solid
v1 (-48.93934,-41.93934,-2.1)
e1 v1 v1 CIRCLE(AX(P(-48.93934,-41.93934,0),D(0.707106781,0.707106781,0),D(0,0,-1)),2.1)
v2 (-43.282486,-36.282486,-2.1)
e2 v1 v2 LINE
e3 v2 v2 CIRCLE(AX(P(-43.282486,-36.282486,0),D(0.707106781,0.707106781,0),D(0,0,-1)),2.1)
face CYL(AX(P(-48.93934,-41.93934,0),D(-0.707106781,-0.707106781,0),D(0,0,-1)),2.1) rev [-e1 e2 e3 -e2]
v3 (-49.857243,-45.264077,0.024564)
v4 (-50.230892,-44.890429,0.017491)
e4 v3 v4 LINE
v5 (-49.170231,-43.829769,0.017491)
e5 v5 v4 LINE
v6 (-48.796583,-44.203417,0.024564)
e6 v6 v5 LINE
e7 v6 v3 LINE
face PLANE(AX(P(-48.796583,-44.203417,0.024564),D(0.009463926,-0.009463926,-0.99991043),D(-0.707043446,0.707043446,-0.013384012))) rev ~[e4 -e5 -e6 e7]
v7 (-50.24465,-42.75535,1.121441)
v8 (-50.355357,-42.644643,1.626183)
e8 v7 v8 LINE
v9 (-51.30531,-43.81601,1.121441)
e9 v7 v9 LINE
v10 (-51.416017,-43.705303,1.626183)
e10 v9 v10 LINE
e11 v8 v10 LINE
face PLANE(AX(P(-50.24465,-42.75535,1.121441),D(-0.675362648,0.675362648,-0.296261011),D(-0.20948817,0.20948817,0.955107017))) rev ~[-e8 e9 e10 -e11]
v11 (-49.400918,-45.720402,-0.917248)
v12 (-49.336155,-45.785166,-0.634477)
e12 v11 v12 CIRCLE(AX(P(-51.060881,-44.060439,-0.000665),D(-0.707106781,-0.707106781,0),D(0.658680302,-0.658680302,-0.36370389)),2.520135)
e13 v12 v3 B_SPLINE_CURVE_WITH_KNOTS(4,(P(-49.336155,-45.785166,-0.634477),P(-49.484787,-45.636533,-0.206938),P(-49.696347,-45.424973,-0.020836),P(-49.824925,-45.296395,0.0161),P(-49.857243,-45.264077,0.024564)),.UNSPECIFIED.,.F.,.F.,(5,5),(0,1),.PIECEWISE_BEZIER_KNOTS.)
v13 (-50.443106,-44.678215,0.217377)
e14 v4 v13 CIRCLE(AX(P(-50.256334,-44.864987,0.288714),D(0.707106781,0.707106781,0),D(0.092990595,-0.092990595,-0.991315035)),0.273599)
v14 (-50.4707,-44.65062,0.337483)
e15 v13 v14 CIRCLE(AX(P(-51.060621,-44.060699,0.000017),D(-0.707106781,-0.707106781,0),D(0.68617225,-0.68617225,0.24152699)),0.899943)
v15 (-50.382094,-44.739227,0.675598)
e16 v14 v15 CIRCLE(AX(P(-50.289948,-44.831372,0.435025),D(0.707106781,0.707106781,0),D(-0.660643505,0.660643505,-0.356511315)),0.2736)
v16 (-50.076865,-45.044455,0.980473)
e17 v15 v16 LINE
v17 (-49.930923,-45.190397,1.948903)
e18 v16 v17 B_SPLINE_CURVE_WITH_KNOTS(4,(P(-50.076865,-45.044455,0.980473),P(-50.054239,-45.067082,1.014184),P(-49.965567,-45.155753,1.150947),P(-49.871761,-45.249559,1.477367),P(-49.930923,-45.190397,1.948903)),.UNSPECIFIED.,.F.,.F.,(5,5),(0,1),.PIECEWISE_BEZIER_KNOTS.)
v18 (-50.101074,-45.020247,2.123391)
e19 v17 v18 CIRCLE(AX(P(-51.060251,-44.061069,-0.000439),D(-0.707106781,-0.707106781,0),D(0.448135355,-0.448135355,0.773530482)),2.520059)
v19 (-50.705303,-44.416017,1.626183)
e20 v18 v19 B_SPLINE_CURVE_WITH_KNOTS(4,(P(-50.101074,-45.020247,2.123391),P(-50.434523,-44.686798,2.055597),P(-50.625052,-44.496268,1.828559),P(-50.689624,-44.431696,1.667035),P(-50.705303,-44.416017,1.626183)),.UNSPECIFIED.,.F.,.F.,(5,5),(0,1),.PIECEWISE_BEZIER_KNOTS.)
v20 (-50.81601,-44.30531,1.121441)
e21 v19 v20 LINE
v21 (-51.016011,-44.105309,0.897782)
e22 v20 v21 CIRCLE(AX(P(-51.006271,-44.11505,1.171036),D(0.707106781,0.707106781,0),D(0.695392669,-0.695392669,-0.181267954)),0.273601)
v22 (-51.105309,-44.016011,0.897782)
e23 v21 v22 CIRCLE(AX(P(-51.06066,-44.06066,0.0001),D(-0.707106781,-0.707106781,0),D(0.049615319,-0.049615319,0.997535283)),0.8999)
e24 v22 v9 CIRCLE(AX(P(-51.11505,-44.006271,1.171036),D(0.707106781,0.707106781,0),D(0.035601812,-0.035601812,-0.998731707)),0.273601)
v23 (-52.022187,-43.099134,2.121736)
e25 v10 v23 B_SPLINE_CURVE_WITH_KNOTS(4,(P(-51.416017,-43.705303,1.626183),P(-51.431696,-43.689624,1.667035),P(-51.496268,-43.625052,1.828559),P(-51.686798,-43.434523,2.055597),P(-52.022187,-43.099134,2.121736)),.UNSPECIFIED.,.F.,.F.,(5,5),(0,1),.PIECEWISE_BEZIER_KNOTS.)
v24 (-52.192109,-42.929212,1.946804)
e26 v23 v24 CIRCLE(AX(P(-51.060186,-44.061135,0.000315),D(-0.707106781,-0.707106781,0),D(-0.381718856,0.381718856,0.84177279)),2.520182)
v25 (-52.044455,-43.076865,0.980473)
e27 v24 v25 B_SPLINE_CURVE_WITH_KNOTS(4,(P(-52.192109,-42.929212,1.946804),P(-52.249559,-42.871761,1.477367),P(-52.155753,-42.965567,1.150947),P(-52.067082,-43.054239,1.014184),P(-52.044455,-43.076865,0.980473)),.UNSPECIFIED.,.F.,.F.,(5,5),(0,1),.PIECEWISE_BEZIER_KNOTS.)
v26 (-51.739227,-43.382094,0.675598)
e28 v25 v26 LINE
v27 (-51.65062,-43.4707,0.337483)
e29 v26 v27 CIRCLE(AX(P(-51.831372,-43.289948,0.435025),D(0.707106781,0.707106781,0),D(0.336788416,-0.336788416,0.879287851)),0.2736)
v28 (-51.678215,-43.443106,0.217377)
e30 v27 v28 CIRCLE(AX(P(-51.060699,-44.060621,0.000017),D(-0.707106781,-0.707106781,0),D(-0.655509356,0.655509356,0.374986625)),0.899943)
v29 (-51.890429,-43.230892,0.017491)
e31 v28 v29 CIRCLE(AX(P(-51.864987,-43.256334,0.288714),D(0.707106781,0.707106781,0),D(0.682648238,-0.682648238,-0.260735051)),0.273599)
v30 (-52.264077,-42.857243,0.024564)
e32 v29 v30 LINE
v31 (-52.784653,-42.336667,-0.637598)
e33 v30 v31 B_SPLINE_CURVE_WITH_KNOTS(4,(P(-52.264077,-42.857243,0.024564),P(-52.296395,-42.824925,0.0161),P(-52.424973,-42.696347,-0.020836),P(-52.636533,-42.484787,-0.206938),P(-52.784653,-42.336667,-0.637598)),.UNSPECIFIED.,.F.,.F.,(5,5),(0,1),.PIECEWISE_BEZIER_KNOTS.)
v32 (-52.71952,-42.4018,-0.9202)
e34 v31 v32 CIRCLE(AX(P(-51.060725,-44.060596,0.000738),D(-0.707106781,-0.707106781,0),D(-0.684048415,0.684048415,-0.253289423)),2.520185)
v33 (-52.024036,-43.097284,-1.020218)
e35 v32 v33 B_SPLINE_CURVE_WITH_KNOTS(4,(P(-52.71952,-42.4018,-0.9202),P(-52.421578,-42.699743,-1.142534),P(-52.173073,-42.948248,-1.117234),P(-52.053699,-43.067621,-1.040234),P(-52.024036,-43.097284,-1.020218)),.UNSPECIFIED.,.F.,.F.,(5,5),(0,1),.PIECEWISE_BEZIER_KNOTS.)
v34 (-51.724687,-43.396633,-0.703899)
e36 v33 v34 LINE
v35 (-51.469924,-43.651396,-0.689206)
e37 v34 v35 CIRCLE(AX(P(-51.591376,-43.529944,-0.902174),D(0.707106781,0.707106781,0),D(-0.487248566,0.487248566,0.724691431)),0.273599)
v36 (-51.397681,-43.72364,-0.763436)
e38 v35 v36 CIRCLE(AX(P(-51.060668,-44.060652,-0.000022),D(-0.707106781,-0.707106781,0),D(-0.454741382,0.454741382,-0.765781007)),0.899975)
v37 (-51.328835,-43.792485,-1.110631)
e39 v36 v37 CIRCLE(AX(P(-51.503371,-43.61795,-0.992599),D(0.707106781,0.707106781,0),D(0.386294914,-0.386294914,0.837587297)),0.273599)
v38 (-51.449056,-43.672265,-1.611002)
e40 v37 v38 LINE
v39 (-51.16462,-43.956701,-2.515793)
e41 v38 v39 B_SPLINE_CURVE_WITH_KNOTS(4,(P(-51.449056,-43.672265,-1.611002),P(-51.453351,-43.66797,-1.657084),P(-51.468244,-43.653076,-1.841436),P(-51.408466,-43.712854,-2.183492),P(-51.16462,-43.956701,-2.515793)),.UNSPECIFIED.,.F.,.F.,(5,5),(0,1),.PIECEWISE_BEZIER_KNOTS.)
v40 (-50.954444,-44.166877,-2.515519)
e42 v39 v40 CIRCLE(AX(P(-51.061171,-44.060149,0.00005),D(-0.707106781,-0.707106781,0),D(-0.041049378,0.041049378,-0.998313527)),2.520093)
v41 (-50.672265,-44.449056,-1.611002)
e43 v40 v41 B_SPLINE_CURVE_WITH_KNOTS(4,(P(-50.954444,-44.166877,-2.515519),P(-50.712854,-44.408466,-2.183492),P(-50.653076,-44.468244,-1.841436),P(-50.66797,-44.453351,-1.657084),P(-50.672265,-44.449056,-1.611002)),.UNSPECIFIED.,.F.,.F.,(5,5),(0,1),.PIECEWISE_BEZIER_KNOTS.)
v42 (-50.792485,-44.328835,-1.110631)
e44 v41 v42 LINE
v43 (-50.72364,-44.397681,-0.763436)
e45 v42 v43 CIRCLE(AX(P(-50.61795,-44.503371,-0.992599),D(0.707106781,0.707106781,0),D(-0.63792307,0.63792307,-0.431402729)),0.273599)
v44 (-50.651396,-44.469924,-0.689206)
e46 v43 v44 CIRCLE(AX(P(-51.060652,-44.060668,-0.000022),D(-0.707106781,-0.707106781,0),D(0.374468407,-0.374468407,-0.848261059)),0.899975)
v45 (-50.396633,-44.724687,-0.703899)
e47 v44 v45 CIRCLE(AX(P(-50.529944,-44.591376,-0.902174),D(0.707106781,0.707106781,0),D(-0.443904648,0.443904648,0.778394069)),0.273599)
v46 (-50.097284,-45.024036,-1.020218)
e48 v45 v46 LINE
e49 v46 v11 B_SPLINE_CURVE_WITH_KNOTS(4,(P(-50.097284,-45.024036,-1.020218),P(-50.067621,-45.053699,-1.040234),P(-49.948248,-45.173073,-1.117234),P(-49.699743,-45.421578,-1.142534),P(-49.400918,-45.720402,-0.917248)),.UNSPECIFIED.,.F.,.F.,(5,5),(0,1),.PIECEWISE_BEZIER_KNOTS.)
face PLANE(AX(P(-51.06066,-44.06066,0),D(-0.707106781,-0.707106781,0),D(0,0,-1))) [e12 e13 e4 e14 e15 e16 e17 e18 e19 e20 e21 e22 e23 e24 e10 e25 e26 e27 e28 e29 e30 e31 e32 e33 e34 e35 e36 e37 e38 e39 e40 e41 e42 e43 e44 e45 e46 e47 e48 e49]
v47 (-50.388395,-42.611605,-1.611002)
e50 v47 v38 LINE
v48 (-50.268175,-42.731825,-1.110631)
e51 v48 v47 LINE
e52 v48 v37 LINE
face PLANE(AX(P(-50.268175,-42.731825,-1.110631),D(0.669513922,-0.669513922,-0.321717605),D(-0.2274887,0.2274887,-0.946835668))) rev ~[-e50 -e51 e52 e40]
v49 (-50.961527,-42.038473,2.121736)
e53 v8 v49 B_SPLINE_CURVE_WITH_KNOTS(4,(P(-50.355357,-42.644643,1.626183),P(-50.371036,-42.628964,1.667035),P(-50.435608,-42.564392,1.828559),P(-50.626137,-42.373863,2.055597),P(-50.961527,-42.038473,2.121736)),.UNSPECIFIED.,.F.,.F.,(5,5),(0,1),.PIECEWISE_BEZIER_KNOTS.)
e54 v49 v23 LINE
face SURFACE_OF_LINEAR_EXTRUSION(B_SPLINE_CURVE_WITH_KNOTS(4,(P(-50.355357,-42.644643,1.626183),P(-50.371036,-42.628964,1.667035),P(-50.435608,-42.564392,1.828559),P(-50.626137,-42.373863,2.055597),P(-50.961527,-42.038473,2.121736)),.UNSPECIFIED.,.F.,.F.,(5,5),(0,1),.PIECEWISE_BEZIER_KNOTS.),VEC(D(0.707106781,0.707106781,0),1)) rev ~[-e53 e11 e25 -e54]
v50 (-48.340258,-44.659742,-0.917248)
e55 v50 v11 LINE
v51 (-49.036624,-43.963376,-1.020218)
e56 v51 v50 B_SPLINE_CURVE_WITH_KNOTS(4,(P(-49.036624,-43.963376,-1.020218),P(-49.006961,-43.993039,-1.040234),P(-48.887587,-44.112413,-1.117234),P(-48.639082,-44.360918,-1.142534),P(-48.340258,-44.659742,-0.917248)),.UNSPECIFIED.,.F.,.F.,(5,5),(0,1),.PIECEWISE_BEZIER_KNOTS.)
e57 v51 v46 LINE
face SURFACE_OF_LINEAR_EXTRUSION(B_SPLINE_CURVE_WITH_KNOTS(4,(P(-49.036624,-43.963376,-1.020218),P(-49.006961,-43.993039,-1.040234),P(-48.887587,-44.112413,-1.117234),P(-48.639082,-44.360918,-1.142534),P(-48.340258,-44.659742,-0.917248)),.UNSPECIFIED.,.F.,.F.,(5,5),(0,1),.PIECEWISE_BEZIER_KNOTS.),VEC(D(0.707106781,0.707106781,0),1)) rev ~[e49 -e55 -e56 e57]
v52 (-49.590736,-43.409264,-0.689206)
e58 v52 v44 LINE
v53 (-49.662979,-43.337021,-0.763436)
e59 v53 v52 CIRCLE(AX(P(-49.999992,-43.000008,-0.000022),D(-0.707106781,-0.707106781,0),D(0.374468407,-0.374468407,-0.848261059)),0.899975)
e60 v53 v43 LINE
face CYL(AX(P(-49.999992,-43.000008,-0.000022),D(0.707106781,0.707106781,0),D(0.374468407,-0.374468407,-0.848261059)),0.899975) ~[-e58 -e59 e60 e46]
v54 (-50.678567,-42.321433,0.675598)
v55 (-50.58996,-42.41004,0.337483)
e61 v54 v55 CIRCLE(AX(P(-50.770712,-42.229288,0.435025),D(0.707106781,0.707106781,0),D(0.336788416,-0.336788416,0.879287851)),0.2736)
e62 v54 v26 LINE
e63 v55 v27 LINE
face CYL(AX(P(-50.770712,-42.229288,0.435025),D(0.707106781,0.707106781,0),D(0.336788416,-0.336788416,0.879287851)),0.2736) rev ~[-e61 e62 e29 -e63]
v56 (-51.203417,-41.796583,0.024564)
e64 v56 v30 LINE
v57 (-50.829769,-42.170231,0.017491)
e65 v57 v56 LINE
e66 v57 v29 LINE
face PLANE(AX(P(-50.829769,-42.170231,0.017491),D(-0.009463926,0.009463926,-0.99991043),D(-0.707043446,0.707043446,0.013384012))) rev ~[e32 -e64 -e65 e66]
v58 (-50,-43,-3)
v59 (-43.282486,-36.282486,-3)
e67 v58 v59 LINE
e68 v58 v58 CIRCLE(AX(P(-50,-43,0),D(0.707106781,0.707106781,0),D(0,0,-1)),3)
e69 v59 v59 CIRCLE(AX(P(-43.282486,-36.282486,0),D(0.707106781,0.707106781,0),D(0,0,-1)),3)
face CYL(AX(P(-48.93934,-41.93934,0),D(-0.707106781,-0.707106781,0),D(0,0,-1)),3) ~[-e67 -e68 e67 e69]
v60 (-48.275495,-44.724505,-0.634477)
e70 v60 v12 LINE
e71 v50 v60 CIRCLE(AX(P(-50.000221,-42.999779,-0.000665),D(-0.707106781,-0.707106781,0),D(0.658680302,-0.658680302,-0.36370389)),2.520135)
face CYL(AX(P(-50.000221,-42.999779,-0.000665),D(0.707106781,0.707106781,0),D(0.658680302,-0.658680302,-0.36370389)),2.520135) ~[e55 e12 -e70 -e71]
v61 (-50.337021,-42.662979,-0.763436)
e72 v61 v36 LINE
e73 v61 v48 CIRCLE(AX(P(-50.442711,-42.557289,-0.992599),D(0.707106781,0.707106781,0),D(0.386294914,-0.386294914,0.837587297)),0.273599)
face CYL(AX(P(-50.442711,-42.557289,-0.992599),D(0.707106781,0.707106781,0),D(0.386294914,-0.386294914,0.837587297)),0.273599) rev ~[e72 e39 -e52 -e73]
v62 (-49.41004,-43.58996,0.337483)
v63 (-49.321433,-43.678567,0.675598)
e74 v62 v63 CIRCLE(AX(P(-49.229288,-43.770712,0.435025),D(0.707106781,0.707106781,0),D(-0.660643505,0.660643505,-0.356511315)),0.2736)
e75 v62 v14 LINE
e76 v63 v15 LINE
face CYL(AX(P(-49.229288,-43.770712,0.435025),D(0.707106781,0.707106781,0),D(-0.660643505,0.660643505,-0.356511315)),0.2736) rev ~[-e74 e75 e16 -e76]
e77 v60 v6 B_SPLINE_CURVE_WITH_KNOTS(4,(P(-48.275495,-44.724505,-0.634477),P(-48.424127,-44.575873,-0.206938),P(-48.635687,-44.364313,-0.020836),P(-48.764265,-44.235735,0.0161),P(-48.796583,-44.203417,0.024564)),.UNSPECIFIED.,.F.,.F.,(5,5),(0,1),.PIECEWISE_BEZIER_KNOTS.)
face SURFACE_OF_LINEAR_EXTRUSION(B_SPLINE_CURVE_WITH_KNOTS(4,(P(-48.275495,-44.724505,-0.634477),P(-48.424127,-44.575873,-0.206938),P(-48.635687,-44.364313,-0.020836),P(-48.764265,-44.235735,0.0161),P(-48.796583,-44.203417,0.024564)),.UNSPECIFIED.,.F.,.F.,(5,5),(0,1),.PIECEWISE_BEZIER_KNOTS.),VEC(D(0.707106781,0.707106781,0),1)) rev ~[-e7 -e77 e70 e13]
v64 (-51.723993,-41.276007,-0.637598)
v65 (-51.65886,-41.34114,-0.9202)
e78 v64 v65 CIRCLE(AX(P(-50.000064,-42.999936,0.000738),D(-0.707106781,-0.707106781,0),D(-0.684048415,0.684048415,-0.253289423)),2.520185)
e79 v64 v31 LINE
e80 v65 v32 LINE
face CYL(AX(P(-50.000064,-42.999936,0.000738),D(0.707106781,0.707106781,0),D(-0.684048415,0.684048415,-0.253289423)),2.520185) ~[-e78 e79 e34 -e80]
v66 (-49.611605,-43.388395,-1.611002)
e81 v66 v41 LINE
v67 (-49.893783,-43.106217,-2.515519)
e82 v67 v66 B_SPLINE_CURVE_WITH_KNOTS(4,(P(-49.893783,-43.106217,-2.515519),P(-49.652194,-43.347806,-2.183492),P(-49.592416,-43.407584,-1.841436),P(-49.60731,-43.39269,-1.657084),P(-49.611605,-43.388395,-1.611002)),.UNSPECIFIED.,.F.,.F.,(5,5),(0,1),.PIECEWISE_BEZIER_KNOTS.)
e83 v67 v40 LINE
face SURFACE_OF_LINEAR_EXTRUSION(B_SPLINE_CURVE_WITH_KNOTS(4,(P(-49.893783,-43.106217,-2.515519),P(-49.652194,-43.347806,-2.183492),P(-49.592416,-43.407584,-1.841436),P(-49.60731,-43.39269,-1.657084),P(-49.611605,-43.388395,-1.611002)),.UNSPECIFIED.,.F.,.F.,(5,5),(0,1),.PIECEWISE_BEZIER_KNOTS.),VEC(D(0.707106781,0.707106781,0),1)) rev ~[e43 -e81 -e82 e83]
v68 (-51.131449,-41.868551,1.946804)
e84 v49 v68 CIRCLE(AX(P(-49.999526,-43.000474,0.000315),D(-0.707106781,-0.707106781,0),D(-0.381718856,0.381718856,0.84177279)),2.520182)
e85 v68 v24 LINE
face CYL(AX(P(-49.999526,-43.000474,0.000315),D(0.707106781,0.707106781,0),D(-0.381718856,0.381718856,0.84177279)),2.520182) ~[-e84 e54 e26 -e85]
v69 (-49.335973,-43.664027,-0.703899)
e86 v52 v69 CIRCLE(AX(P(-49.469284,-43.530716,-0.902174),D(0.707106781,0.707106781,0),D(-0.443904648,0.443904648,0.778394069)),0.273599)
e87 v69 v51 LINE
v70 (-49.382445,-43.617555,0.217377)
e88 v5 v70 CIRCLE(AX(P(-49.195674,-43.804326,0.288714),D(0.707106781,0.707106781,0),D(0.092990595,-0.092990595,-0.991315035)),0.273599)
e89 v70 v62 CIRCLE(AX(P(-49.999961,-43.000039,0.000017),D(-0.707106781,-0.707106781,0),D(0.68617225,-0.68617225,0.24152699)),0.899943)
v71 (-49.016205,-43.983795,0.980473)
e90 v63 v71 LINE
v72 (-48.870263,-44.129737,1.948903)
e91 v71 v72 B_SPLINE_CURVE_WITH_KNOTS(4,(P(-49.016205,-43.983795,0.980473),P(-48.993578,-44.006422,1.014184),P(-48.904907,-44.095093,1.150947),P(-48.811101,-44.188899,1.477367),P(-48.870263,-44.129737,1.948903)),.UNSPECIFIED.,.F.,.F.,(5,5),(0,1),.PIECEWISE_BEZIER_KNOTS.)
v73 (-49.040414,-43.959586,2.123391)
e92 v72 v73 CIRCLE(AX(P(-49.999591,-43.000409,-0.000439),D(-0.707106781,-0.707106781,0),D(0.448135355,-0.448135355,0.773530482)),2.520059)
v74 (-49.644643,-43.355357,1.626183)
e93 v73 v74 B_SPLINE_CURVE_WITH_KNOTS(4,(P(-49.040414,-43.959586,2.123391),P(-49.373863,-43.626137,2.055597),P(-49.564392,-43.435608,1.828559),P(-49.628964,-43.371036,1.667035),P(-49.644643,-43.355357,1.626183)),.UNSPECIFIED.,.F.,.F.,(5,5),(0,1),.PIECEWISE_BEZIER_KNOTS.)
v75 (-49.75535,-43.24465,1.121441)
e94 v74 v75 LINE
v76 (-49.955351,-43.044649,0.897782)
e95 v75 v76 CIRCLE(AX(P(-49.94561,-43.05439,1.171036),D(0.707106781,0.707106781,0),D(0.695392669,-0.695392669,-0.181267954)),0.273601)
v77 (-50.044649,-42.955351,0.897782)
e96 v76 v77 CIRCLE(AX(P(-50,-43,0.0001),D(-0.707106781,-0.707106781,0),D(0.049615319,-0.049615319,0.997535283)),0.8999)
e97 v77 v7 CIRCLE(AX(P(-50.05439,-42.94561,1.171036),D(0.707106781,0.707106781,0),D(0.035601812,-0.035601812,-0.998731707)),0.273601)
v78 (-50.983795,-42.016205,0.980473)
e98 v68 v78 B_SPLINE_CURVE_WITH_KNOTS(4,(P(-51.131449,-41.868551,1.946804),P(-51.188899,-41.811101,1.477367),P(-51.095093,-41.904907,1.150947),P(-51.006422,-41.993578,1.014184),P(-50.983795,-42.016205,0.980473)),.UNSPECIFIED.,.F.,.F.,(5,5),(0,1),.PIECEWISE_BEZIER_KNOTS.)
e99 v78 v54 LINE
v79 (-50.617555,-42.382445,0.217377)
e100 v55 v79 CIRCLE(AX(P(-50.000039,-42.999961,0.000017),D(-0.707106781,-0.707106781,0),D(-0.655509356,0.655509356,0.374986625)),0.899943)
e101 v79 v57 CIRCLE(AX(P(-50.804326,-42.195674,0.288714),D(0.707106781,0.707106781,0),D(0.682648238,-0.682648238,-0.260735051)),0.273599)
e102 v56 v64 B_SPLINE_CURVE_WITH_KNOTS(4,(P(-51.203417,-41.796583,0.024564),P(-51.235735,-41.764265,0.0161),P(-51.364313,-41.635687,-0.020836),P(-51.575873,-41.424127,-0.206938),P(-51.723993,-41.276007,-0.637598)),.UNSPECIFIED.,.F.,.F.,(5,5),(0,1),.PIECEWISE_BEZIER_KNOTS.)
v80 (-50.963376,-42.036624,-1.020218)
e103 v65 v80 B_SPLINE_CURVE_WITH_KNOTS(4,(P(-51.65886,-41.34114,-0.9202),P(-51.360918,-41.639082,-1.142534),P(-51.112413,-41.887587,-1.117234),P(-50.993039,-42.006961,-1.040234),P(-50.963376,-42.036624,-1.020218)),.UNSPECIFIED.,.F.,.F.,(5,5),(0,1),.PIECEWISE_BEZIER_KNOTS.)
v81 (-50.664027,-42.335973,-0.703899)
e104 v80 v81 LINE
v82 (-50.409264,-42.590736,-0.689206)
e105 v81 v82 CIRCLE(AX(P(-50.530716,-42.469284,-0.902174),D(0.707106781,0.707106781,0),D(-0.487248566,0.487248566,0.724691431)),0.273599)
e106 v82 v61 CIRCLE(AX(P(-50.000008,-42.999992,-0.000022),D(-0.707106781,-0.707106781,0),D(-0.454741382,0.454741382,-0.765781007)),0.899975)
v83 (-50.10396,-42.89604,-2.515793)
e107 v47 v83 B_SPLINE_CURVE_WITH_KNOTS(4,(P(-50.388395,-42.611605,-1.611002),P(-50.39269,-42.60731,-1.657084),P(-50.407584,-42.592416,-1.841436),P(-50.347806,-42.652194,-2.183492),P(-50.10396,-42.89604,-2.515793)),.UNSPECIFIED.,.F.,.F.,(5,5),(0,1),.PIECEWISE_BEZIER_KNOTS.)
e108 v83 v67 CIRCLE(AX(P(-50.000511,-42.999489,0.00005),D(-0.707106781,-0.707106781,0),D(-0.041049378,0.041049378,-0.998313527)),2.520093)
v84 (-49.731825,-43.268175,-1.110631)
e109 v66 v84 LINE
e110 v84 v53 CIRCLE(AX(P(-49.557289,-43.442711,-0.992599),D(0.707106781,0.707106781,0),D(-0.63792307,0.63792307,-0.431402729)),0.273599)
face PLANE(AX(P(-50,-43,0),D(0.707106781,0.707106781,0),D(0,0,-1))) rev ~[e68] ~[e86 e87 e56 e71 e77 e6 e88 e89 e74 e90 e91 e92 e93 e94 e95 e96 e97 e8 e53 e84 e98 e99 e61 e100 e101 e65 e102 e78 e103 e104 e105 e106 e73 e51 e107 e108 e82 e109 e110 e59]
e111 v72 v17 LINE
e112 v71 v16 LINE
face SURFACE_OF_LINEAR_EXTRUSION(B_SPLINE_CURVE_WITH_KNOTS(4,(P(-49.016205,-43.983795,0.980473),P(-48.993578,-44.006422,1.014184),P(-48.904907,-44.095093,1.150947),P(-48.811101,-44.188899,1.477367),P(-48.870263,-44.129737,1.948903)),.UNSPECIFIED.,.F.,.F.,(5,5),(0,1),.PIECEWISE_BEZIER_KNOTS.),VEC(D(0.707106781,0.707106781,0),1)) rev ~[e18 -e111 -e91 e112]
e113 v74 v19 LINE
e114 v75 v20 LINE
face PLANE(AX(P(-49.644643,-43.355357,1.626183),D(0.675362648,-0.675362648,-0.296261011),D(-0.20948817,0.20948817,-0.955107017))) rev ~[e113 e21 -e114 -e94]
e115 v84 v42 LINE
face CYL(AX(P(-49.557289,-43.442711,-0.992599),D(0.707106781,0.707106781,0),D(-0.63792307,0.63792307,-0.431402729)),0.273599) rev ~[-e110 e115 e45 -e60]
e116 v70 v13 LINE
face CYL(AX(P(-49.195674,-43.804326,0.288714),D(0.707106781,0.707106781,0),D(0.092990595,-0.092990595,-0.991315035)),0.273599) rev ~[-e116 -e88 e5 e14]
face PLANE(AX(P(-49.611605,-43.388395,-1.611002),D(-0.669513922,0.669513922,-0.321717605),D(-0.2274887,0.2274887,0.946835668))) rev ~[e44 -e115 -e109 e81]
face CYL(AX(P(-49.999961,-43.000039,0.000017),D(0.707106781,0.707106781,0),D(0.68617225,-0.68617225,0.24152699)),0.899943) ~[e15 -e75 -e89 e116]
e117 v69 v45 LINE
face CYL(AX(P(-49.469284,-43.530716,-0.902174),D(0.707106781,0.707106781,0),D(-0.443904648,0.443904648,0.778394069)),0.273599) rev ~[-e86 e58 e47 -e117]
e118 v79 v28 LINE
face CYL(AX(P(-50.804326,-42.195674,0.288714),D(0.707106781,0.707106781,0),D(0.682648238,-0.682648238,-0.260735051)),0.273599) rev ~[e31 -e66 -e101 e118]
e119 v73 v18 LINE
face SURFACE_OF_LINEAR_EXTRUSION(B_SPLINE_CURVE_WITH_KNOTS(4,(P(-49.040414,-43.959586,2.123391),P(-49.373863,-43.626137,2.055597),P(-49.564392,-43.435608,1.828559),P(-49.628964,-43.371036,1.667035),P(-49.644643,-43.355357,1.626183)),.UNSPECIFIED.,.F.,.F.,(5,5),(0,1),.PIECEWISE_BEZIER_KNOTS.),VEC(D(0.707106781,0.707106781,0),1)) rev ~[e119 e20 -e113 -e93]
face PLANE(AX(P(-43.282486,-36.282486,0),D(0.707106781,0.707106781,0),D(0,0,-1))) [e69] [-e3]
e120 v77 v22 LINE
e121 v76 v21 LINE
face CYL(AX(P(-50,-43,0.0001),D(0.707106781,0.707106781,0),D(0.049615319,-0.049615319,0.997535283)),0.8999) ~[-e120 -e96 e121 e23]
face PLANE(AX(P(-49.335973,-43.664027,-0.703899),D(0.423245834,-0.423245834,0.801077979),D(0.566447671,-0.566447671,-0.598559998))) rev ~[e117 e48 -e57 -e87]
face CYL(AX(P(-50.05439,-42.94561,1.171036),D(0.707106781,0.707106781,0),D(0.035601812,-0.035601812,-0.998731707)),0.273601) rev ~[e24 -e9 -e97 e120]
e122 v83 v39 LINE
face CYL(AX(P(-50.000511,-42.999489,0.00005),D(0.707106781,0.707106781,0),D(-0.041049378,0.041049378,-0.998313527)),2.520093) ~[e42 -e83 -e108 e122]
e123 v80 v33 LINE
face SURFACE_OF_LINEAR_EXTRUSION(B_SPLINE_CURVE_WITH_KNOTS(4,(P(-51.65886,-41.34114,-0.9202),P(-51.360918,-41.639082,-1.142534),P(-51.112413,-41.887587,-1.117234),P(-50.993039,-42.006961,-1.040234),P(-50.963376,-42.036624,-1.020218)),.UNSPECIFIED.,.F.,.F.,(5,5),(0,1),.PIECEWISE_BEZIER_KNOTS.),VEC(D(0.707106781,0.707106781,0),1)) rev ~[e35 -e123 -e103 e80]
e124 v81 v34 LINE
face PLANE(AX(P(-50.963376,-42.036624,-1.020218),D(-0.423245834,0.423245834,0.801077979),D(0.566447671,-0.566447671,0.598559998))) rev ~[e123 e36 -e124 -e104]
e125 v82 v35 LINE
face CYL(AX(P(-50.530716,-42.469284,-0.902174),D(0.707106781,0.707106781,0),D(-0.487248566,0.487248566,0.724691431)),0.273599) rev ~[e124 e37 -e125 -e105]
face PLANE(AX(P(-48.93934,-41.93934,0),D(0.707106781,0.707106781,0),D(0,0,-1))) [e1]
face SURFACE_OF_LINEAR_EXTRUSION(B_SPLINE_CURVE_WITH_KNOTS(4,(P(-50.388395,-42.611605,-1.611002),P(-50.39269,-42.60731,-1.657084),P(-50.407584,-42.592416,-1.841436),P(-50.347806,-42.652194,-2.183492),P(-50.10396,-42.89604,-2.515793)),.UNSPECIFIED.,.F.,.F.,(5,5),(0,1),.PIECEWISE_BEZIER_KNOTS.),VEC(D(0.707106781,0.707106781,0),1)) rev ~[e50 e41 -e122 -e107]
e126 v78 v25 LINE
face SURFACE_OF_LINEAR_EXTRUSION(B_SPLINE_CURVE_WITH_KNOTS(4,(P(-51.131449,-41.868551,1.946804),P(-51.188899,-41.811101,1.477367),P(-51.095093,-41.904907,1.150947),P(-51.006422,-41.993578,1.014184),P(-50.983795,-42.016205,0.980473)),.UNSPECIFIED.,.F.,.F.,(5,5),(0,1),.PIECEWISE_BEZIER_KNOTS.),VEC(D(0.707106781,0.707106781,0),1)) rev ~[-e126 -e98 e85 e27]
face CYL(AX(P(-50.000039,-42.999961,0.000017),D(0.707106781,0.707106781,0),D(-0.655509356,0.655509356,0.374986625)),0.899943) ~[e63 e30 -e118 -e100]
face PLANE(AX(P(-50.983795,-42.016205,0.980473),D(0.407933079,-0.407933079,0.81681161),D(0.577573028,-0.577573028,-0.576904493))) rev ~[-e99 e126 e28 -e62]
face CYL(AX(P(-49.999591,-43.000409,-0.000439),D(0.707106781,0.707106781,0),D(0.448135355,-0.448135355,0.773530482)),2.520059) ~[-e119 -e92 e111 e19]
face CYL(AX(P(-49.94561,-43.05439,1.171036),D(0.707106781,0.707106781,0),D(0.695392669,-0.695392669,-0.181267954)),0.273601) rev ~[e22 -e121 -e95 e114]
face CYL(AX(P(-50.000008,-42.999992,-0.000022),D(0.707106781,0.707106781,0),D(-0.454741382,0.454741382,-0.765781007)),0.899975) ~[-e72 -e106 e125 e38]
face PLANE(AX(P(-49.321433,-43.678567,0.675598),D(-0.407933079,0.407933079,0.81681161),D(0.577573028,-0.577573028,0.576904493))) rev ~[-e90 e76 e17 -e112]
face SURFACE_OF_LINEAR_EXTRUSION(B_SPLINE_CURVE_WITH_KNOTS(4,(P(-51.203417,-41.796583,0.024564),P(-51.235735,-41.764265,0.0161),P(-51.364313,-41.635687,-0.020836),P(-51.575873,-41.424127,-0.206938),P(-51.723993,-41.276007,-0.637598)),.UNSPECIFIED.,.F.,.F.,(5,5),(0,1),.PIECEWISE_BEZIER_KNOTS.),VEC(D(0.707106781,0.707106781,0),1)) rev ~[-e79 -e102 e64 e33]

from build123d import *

# Parameters (mm, degrees)
PAD038_DEPTH            = 1.5
SKETCH056_R             = 3
PAD039_DEPTH            = 1.5
SKETCH057_R             = 3
SKETCH057_R_2           = 2.1
PAD040_DEPTH            = 8
BODY022_PITCH_ANGLE     = 90
BODY022_PLACEMENT_ANGLE = -135


with BuildPart() as part:
    # InvoluteGear007 → Pad038 (new body)
    with BuildSketch(Plane.XY):
        with BuildLine():
            Line((1.110631, -0.379257), (1.611002, -0.549274))
            add(Edge.make_bspline(
                [(1.611002, -0.549274), (1.657084, -0.555348), (1.841436, -0.576411), (2.183492, -0.491872), (2.515793, -0.147021)],
                knots=[0, 0, 0, 0, 0, 1, 1, 1, 1, 1], degree=4))
            ThreePointArc((2.515793, -0.147021), (2.520042, 0.0016), (2.515519, 0.150213))
            add(Edge.make_bspline(
                [(2.515519, 0.150213), (2.183492, 0.491872), (1.841436, 0.576411), (1.657084, 0.555348), (1.611002, 0.549274)],
                knots=[0, 0, 0, 0, 0, 1, 1, 1, 1, 1], degree=4))
            Line((1.611002, 0.549274), (1.110631, 0.379257))
            ThreePointArc((1.110631, 0.379257), (0.918725, 0.36265), (0.763436, 0.476619))
            ThreePointArc((0.763436, 0.476619), (0.728115, 0.529007), (0.689206, 0.578787))
            ThreePointArc((0.689206, 0.578787), (0.628802, 0.761694), (0.703899, 0.939076))
            Line((0.703899, 0.939076), (1.020218, 1.362419))
            add(Edge.make_bspline(
                [(1.020218, 1.362419), (1.040234, 1.404369), (1.117234, 1.573189), (1.142534, 1.924628), (0.917248, 2.34723)],
                knots=[0, 0, 0, 0, 0, 1, 1, 1, 1, 1], degree=4))
            ThreePointArc((0.917248, 2.34723), (0.777214, 2.397197), (0.634477, 2.438819))
            add(Edge.make_bspline(
                [(0.634477, 2.438819), (0.206938, 2.228621), (0.020836, 1.92943), (-0.0161, 1.747593), (-0.024564, 1.701889)],
                knots=[0, 0, 0, 0, 0, 1, 1, 1, 1, 1], degree=4))
            Line((-0.024564, 1.701889), (-0.017491, 1.17347))
            ThreePointArc((-0.017491, 1.17347), (-0.060999, 0.985824), (-0.217377, 0.873354))
            ThreePointArc((-0.217377, 0.873354), (-0.278115, 0.855951), (-0.337483, 0.834329))
            ThreePointArc((-0.337483, 0.834329), (-0.530104, 0.833403), (-0.675598, 0.959638))
            Line((-0.675598, 0.959638), (-0.980473, 1.391296))
            add(Edge.make_bspline(
                [(-0.980473, 1.391296), (-1.014184, 1.423295), (-1.150947, 1.548695), (-1.477367, 1.681357), (-1.948903, 1.597689)],
                knots=[0, 0, 0, 0, 0, 1, 1, 1, 1, 1], degree=4))
            ThreePointArc((-1.948903, 1.597689), (-2.039698, 1.479949), (-2.123391, 1.35706))
            add(Edge.make_bspline(
                [(-2.123391, 1.35706), (-2.055597, 0.885492), (-1.828559, 0.616043), (-1.667035, 0.524724), (-1.626183, 0.502551)],
                knots=[0, 0, 0, 0, 0, 1, 1, 1, 1, 1], degree=4))
            Line((-1.626183, 0.502551), (-1.121441, 0.345987))
            ThreePointArc((-1.121441, 0.345987), (-0.956425, 0.246623), (-0.897782, 0.063143))
            ThreePointArc((-0.897782, 0.063143), (-0.9, 0), (-0.897782, -0.063143))
            ThreePointArc((-0.897782, -0.063143), (-0.956425, -0.246623), (-1.121441, -0.345987))
            Line((-1.121441, -0.345987), (-1.626183, -0.502551))
            add(Edge.make_bspline(
                [(-1.626183, -0.502551), (-1.667035, -0.524724), (-1.828559, -0.616043), (-2.055597, -0.885492), (-2.121736, -1.359804)],
                knots=[0, 0, 0, 0, 0, 1, 1, 1, 1, 1], degree=4))
            ThreePointArc((-2.121736, -1.359804), (-2.037816, -1.482538), (-1.946804, -1.60011))
            add(Edge.make_bspline(
                [(-1.946804, -1.60011), (-1.477367, -1.681357), (-1.150947, -1.548695), (-1.014184, -1.423295), (-0.980473, -1.391296)],
                knots=[0, 0, 0, 0, 0, 1, 1, 1, 1, 1], degree=4))
            Line((-0.980473, -1.391296), (-0.675598, -0.959638))
            ThreePointArc((-0.675598, -0.959638), (-0.530104, -0.833403), (-0.337483, -0.834329))
            ThreePointArc((-0.337483, -0.834329), (-0.278115, -0.855951), (-0.217377, -0.873354))
            ThreePointArc((-0.217377, -0.873354), (-0.060999, -0.985824), (-0.017491, -1.17347))
            Line((-0.017491, -1.17347), (-0.024564, -1.701889))
            add(Edge.make_bspline(
                [(-0.024564, -1.701889), (-0.0161, -1.747593), (0.020836, -1.92943), (0.206938, -2.228621), (0.637598, -2.438094)],
                knots=[0, 0, 0, 0, 0, 1, 1, 1, 1, 1], degree=4))
            ThreePointArc((0.637598, -2.438094), (0.780258, -2.396208), (0.9202, -2.345982))
            add(Edge.make_bspline(
                [(0.9202, -2.345982), (1.142534, -1.924628), (1.117234, -1.573189), (1.040234, -1.404369), (1.020218, -1.362419)],
                knots=[0, 0, 0, 0, 0, 1, 1, 1, 1, 1], degree=4))
            Line((1.020218, -1.362419), (0.703899, -0.939076))
            ThreePointArc((0.703899, -0.939076), (0.628802, -0.761694), (0.689206, -0.578787))
            ThreePointArc((0.689206, -0.578787), (0.728115, -0.529007), (0.763436, -0.476619))
            ThreePointArc((0.763436, -0.476619), (0.918725, -0.36265), (1.110631, -0.379257))
        make_face()
    extrude(amount=PAD038_DEPTH)

    # Sketch056 (on Face41 of Pad038) → Pad039 (join)
    with BuildSketch(Plane(origin=(0, 0, 0), x_dir=(1, 0, 0), z_dir=(0, 0, -1))):
        Circle(SKETCH056_R)
    extrude(amount=PAD039_DEPTH)

    # Sketch057 (on Face3 of Pad039) → Pad040 (join)
    with BuildSketch(Plane(origin=(0, 0, -1.5), x_dir=(1, 0, 0), z_dir=(0, 0, -1))):
        Circle(SKETCH057_R)
        Circle(SKETCH057_R_2, mode=Mode.SUBTRACT)
    extrude(amount=PAD040_DEPTH)


with BuildPart() as part_1:
    # Body022 pitch: moved
    add(part.part.rotate(Axis((0, 0, 0), (0, 1, 0)), BODY022_PITCH_ANGLE))


with BuildPart() as part_2:
    # Body022 placement: moved
    add(part_1.part.moved(Location((-50, -43, 0))).rotate(Axis((-50, -43, 0), (0, 0, 1)), BODY022_PLACEMENT_ANGLE))


solid = part_2.part
